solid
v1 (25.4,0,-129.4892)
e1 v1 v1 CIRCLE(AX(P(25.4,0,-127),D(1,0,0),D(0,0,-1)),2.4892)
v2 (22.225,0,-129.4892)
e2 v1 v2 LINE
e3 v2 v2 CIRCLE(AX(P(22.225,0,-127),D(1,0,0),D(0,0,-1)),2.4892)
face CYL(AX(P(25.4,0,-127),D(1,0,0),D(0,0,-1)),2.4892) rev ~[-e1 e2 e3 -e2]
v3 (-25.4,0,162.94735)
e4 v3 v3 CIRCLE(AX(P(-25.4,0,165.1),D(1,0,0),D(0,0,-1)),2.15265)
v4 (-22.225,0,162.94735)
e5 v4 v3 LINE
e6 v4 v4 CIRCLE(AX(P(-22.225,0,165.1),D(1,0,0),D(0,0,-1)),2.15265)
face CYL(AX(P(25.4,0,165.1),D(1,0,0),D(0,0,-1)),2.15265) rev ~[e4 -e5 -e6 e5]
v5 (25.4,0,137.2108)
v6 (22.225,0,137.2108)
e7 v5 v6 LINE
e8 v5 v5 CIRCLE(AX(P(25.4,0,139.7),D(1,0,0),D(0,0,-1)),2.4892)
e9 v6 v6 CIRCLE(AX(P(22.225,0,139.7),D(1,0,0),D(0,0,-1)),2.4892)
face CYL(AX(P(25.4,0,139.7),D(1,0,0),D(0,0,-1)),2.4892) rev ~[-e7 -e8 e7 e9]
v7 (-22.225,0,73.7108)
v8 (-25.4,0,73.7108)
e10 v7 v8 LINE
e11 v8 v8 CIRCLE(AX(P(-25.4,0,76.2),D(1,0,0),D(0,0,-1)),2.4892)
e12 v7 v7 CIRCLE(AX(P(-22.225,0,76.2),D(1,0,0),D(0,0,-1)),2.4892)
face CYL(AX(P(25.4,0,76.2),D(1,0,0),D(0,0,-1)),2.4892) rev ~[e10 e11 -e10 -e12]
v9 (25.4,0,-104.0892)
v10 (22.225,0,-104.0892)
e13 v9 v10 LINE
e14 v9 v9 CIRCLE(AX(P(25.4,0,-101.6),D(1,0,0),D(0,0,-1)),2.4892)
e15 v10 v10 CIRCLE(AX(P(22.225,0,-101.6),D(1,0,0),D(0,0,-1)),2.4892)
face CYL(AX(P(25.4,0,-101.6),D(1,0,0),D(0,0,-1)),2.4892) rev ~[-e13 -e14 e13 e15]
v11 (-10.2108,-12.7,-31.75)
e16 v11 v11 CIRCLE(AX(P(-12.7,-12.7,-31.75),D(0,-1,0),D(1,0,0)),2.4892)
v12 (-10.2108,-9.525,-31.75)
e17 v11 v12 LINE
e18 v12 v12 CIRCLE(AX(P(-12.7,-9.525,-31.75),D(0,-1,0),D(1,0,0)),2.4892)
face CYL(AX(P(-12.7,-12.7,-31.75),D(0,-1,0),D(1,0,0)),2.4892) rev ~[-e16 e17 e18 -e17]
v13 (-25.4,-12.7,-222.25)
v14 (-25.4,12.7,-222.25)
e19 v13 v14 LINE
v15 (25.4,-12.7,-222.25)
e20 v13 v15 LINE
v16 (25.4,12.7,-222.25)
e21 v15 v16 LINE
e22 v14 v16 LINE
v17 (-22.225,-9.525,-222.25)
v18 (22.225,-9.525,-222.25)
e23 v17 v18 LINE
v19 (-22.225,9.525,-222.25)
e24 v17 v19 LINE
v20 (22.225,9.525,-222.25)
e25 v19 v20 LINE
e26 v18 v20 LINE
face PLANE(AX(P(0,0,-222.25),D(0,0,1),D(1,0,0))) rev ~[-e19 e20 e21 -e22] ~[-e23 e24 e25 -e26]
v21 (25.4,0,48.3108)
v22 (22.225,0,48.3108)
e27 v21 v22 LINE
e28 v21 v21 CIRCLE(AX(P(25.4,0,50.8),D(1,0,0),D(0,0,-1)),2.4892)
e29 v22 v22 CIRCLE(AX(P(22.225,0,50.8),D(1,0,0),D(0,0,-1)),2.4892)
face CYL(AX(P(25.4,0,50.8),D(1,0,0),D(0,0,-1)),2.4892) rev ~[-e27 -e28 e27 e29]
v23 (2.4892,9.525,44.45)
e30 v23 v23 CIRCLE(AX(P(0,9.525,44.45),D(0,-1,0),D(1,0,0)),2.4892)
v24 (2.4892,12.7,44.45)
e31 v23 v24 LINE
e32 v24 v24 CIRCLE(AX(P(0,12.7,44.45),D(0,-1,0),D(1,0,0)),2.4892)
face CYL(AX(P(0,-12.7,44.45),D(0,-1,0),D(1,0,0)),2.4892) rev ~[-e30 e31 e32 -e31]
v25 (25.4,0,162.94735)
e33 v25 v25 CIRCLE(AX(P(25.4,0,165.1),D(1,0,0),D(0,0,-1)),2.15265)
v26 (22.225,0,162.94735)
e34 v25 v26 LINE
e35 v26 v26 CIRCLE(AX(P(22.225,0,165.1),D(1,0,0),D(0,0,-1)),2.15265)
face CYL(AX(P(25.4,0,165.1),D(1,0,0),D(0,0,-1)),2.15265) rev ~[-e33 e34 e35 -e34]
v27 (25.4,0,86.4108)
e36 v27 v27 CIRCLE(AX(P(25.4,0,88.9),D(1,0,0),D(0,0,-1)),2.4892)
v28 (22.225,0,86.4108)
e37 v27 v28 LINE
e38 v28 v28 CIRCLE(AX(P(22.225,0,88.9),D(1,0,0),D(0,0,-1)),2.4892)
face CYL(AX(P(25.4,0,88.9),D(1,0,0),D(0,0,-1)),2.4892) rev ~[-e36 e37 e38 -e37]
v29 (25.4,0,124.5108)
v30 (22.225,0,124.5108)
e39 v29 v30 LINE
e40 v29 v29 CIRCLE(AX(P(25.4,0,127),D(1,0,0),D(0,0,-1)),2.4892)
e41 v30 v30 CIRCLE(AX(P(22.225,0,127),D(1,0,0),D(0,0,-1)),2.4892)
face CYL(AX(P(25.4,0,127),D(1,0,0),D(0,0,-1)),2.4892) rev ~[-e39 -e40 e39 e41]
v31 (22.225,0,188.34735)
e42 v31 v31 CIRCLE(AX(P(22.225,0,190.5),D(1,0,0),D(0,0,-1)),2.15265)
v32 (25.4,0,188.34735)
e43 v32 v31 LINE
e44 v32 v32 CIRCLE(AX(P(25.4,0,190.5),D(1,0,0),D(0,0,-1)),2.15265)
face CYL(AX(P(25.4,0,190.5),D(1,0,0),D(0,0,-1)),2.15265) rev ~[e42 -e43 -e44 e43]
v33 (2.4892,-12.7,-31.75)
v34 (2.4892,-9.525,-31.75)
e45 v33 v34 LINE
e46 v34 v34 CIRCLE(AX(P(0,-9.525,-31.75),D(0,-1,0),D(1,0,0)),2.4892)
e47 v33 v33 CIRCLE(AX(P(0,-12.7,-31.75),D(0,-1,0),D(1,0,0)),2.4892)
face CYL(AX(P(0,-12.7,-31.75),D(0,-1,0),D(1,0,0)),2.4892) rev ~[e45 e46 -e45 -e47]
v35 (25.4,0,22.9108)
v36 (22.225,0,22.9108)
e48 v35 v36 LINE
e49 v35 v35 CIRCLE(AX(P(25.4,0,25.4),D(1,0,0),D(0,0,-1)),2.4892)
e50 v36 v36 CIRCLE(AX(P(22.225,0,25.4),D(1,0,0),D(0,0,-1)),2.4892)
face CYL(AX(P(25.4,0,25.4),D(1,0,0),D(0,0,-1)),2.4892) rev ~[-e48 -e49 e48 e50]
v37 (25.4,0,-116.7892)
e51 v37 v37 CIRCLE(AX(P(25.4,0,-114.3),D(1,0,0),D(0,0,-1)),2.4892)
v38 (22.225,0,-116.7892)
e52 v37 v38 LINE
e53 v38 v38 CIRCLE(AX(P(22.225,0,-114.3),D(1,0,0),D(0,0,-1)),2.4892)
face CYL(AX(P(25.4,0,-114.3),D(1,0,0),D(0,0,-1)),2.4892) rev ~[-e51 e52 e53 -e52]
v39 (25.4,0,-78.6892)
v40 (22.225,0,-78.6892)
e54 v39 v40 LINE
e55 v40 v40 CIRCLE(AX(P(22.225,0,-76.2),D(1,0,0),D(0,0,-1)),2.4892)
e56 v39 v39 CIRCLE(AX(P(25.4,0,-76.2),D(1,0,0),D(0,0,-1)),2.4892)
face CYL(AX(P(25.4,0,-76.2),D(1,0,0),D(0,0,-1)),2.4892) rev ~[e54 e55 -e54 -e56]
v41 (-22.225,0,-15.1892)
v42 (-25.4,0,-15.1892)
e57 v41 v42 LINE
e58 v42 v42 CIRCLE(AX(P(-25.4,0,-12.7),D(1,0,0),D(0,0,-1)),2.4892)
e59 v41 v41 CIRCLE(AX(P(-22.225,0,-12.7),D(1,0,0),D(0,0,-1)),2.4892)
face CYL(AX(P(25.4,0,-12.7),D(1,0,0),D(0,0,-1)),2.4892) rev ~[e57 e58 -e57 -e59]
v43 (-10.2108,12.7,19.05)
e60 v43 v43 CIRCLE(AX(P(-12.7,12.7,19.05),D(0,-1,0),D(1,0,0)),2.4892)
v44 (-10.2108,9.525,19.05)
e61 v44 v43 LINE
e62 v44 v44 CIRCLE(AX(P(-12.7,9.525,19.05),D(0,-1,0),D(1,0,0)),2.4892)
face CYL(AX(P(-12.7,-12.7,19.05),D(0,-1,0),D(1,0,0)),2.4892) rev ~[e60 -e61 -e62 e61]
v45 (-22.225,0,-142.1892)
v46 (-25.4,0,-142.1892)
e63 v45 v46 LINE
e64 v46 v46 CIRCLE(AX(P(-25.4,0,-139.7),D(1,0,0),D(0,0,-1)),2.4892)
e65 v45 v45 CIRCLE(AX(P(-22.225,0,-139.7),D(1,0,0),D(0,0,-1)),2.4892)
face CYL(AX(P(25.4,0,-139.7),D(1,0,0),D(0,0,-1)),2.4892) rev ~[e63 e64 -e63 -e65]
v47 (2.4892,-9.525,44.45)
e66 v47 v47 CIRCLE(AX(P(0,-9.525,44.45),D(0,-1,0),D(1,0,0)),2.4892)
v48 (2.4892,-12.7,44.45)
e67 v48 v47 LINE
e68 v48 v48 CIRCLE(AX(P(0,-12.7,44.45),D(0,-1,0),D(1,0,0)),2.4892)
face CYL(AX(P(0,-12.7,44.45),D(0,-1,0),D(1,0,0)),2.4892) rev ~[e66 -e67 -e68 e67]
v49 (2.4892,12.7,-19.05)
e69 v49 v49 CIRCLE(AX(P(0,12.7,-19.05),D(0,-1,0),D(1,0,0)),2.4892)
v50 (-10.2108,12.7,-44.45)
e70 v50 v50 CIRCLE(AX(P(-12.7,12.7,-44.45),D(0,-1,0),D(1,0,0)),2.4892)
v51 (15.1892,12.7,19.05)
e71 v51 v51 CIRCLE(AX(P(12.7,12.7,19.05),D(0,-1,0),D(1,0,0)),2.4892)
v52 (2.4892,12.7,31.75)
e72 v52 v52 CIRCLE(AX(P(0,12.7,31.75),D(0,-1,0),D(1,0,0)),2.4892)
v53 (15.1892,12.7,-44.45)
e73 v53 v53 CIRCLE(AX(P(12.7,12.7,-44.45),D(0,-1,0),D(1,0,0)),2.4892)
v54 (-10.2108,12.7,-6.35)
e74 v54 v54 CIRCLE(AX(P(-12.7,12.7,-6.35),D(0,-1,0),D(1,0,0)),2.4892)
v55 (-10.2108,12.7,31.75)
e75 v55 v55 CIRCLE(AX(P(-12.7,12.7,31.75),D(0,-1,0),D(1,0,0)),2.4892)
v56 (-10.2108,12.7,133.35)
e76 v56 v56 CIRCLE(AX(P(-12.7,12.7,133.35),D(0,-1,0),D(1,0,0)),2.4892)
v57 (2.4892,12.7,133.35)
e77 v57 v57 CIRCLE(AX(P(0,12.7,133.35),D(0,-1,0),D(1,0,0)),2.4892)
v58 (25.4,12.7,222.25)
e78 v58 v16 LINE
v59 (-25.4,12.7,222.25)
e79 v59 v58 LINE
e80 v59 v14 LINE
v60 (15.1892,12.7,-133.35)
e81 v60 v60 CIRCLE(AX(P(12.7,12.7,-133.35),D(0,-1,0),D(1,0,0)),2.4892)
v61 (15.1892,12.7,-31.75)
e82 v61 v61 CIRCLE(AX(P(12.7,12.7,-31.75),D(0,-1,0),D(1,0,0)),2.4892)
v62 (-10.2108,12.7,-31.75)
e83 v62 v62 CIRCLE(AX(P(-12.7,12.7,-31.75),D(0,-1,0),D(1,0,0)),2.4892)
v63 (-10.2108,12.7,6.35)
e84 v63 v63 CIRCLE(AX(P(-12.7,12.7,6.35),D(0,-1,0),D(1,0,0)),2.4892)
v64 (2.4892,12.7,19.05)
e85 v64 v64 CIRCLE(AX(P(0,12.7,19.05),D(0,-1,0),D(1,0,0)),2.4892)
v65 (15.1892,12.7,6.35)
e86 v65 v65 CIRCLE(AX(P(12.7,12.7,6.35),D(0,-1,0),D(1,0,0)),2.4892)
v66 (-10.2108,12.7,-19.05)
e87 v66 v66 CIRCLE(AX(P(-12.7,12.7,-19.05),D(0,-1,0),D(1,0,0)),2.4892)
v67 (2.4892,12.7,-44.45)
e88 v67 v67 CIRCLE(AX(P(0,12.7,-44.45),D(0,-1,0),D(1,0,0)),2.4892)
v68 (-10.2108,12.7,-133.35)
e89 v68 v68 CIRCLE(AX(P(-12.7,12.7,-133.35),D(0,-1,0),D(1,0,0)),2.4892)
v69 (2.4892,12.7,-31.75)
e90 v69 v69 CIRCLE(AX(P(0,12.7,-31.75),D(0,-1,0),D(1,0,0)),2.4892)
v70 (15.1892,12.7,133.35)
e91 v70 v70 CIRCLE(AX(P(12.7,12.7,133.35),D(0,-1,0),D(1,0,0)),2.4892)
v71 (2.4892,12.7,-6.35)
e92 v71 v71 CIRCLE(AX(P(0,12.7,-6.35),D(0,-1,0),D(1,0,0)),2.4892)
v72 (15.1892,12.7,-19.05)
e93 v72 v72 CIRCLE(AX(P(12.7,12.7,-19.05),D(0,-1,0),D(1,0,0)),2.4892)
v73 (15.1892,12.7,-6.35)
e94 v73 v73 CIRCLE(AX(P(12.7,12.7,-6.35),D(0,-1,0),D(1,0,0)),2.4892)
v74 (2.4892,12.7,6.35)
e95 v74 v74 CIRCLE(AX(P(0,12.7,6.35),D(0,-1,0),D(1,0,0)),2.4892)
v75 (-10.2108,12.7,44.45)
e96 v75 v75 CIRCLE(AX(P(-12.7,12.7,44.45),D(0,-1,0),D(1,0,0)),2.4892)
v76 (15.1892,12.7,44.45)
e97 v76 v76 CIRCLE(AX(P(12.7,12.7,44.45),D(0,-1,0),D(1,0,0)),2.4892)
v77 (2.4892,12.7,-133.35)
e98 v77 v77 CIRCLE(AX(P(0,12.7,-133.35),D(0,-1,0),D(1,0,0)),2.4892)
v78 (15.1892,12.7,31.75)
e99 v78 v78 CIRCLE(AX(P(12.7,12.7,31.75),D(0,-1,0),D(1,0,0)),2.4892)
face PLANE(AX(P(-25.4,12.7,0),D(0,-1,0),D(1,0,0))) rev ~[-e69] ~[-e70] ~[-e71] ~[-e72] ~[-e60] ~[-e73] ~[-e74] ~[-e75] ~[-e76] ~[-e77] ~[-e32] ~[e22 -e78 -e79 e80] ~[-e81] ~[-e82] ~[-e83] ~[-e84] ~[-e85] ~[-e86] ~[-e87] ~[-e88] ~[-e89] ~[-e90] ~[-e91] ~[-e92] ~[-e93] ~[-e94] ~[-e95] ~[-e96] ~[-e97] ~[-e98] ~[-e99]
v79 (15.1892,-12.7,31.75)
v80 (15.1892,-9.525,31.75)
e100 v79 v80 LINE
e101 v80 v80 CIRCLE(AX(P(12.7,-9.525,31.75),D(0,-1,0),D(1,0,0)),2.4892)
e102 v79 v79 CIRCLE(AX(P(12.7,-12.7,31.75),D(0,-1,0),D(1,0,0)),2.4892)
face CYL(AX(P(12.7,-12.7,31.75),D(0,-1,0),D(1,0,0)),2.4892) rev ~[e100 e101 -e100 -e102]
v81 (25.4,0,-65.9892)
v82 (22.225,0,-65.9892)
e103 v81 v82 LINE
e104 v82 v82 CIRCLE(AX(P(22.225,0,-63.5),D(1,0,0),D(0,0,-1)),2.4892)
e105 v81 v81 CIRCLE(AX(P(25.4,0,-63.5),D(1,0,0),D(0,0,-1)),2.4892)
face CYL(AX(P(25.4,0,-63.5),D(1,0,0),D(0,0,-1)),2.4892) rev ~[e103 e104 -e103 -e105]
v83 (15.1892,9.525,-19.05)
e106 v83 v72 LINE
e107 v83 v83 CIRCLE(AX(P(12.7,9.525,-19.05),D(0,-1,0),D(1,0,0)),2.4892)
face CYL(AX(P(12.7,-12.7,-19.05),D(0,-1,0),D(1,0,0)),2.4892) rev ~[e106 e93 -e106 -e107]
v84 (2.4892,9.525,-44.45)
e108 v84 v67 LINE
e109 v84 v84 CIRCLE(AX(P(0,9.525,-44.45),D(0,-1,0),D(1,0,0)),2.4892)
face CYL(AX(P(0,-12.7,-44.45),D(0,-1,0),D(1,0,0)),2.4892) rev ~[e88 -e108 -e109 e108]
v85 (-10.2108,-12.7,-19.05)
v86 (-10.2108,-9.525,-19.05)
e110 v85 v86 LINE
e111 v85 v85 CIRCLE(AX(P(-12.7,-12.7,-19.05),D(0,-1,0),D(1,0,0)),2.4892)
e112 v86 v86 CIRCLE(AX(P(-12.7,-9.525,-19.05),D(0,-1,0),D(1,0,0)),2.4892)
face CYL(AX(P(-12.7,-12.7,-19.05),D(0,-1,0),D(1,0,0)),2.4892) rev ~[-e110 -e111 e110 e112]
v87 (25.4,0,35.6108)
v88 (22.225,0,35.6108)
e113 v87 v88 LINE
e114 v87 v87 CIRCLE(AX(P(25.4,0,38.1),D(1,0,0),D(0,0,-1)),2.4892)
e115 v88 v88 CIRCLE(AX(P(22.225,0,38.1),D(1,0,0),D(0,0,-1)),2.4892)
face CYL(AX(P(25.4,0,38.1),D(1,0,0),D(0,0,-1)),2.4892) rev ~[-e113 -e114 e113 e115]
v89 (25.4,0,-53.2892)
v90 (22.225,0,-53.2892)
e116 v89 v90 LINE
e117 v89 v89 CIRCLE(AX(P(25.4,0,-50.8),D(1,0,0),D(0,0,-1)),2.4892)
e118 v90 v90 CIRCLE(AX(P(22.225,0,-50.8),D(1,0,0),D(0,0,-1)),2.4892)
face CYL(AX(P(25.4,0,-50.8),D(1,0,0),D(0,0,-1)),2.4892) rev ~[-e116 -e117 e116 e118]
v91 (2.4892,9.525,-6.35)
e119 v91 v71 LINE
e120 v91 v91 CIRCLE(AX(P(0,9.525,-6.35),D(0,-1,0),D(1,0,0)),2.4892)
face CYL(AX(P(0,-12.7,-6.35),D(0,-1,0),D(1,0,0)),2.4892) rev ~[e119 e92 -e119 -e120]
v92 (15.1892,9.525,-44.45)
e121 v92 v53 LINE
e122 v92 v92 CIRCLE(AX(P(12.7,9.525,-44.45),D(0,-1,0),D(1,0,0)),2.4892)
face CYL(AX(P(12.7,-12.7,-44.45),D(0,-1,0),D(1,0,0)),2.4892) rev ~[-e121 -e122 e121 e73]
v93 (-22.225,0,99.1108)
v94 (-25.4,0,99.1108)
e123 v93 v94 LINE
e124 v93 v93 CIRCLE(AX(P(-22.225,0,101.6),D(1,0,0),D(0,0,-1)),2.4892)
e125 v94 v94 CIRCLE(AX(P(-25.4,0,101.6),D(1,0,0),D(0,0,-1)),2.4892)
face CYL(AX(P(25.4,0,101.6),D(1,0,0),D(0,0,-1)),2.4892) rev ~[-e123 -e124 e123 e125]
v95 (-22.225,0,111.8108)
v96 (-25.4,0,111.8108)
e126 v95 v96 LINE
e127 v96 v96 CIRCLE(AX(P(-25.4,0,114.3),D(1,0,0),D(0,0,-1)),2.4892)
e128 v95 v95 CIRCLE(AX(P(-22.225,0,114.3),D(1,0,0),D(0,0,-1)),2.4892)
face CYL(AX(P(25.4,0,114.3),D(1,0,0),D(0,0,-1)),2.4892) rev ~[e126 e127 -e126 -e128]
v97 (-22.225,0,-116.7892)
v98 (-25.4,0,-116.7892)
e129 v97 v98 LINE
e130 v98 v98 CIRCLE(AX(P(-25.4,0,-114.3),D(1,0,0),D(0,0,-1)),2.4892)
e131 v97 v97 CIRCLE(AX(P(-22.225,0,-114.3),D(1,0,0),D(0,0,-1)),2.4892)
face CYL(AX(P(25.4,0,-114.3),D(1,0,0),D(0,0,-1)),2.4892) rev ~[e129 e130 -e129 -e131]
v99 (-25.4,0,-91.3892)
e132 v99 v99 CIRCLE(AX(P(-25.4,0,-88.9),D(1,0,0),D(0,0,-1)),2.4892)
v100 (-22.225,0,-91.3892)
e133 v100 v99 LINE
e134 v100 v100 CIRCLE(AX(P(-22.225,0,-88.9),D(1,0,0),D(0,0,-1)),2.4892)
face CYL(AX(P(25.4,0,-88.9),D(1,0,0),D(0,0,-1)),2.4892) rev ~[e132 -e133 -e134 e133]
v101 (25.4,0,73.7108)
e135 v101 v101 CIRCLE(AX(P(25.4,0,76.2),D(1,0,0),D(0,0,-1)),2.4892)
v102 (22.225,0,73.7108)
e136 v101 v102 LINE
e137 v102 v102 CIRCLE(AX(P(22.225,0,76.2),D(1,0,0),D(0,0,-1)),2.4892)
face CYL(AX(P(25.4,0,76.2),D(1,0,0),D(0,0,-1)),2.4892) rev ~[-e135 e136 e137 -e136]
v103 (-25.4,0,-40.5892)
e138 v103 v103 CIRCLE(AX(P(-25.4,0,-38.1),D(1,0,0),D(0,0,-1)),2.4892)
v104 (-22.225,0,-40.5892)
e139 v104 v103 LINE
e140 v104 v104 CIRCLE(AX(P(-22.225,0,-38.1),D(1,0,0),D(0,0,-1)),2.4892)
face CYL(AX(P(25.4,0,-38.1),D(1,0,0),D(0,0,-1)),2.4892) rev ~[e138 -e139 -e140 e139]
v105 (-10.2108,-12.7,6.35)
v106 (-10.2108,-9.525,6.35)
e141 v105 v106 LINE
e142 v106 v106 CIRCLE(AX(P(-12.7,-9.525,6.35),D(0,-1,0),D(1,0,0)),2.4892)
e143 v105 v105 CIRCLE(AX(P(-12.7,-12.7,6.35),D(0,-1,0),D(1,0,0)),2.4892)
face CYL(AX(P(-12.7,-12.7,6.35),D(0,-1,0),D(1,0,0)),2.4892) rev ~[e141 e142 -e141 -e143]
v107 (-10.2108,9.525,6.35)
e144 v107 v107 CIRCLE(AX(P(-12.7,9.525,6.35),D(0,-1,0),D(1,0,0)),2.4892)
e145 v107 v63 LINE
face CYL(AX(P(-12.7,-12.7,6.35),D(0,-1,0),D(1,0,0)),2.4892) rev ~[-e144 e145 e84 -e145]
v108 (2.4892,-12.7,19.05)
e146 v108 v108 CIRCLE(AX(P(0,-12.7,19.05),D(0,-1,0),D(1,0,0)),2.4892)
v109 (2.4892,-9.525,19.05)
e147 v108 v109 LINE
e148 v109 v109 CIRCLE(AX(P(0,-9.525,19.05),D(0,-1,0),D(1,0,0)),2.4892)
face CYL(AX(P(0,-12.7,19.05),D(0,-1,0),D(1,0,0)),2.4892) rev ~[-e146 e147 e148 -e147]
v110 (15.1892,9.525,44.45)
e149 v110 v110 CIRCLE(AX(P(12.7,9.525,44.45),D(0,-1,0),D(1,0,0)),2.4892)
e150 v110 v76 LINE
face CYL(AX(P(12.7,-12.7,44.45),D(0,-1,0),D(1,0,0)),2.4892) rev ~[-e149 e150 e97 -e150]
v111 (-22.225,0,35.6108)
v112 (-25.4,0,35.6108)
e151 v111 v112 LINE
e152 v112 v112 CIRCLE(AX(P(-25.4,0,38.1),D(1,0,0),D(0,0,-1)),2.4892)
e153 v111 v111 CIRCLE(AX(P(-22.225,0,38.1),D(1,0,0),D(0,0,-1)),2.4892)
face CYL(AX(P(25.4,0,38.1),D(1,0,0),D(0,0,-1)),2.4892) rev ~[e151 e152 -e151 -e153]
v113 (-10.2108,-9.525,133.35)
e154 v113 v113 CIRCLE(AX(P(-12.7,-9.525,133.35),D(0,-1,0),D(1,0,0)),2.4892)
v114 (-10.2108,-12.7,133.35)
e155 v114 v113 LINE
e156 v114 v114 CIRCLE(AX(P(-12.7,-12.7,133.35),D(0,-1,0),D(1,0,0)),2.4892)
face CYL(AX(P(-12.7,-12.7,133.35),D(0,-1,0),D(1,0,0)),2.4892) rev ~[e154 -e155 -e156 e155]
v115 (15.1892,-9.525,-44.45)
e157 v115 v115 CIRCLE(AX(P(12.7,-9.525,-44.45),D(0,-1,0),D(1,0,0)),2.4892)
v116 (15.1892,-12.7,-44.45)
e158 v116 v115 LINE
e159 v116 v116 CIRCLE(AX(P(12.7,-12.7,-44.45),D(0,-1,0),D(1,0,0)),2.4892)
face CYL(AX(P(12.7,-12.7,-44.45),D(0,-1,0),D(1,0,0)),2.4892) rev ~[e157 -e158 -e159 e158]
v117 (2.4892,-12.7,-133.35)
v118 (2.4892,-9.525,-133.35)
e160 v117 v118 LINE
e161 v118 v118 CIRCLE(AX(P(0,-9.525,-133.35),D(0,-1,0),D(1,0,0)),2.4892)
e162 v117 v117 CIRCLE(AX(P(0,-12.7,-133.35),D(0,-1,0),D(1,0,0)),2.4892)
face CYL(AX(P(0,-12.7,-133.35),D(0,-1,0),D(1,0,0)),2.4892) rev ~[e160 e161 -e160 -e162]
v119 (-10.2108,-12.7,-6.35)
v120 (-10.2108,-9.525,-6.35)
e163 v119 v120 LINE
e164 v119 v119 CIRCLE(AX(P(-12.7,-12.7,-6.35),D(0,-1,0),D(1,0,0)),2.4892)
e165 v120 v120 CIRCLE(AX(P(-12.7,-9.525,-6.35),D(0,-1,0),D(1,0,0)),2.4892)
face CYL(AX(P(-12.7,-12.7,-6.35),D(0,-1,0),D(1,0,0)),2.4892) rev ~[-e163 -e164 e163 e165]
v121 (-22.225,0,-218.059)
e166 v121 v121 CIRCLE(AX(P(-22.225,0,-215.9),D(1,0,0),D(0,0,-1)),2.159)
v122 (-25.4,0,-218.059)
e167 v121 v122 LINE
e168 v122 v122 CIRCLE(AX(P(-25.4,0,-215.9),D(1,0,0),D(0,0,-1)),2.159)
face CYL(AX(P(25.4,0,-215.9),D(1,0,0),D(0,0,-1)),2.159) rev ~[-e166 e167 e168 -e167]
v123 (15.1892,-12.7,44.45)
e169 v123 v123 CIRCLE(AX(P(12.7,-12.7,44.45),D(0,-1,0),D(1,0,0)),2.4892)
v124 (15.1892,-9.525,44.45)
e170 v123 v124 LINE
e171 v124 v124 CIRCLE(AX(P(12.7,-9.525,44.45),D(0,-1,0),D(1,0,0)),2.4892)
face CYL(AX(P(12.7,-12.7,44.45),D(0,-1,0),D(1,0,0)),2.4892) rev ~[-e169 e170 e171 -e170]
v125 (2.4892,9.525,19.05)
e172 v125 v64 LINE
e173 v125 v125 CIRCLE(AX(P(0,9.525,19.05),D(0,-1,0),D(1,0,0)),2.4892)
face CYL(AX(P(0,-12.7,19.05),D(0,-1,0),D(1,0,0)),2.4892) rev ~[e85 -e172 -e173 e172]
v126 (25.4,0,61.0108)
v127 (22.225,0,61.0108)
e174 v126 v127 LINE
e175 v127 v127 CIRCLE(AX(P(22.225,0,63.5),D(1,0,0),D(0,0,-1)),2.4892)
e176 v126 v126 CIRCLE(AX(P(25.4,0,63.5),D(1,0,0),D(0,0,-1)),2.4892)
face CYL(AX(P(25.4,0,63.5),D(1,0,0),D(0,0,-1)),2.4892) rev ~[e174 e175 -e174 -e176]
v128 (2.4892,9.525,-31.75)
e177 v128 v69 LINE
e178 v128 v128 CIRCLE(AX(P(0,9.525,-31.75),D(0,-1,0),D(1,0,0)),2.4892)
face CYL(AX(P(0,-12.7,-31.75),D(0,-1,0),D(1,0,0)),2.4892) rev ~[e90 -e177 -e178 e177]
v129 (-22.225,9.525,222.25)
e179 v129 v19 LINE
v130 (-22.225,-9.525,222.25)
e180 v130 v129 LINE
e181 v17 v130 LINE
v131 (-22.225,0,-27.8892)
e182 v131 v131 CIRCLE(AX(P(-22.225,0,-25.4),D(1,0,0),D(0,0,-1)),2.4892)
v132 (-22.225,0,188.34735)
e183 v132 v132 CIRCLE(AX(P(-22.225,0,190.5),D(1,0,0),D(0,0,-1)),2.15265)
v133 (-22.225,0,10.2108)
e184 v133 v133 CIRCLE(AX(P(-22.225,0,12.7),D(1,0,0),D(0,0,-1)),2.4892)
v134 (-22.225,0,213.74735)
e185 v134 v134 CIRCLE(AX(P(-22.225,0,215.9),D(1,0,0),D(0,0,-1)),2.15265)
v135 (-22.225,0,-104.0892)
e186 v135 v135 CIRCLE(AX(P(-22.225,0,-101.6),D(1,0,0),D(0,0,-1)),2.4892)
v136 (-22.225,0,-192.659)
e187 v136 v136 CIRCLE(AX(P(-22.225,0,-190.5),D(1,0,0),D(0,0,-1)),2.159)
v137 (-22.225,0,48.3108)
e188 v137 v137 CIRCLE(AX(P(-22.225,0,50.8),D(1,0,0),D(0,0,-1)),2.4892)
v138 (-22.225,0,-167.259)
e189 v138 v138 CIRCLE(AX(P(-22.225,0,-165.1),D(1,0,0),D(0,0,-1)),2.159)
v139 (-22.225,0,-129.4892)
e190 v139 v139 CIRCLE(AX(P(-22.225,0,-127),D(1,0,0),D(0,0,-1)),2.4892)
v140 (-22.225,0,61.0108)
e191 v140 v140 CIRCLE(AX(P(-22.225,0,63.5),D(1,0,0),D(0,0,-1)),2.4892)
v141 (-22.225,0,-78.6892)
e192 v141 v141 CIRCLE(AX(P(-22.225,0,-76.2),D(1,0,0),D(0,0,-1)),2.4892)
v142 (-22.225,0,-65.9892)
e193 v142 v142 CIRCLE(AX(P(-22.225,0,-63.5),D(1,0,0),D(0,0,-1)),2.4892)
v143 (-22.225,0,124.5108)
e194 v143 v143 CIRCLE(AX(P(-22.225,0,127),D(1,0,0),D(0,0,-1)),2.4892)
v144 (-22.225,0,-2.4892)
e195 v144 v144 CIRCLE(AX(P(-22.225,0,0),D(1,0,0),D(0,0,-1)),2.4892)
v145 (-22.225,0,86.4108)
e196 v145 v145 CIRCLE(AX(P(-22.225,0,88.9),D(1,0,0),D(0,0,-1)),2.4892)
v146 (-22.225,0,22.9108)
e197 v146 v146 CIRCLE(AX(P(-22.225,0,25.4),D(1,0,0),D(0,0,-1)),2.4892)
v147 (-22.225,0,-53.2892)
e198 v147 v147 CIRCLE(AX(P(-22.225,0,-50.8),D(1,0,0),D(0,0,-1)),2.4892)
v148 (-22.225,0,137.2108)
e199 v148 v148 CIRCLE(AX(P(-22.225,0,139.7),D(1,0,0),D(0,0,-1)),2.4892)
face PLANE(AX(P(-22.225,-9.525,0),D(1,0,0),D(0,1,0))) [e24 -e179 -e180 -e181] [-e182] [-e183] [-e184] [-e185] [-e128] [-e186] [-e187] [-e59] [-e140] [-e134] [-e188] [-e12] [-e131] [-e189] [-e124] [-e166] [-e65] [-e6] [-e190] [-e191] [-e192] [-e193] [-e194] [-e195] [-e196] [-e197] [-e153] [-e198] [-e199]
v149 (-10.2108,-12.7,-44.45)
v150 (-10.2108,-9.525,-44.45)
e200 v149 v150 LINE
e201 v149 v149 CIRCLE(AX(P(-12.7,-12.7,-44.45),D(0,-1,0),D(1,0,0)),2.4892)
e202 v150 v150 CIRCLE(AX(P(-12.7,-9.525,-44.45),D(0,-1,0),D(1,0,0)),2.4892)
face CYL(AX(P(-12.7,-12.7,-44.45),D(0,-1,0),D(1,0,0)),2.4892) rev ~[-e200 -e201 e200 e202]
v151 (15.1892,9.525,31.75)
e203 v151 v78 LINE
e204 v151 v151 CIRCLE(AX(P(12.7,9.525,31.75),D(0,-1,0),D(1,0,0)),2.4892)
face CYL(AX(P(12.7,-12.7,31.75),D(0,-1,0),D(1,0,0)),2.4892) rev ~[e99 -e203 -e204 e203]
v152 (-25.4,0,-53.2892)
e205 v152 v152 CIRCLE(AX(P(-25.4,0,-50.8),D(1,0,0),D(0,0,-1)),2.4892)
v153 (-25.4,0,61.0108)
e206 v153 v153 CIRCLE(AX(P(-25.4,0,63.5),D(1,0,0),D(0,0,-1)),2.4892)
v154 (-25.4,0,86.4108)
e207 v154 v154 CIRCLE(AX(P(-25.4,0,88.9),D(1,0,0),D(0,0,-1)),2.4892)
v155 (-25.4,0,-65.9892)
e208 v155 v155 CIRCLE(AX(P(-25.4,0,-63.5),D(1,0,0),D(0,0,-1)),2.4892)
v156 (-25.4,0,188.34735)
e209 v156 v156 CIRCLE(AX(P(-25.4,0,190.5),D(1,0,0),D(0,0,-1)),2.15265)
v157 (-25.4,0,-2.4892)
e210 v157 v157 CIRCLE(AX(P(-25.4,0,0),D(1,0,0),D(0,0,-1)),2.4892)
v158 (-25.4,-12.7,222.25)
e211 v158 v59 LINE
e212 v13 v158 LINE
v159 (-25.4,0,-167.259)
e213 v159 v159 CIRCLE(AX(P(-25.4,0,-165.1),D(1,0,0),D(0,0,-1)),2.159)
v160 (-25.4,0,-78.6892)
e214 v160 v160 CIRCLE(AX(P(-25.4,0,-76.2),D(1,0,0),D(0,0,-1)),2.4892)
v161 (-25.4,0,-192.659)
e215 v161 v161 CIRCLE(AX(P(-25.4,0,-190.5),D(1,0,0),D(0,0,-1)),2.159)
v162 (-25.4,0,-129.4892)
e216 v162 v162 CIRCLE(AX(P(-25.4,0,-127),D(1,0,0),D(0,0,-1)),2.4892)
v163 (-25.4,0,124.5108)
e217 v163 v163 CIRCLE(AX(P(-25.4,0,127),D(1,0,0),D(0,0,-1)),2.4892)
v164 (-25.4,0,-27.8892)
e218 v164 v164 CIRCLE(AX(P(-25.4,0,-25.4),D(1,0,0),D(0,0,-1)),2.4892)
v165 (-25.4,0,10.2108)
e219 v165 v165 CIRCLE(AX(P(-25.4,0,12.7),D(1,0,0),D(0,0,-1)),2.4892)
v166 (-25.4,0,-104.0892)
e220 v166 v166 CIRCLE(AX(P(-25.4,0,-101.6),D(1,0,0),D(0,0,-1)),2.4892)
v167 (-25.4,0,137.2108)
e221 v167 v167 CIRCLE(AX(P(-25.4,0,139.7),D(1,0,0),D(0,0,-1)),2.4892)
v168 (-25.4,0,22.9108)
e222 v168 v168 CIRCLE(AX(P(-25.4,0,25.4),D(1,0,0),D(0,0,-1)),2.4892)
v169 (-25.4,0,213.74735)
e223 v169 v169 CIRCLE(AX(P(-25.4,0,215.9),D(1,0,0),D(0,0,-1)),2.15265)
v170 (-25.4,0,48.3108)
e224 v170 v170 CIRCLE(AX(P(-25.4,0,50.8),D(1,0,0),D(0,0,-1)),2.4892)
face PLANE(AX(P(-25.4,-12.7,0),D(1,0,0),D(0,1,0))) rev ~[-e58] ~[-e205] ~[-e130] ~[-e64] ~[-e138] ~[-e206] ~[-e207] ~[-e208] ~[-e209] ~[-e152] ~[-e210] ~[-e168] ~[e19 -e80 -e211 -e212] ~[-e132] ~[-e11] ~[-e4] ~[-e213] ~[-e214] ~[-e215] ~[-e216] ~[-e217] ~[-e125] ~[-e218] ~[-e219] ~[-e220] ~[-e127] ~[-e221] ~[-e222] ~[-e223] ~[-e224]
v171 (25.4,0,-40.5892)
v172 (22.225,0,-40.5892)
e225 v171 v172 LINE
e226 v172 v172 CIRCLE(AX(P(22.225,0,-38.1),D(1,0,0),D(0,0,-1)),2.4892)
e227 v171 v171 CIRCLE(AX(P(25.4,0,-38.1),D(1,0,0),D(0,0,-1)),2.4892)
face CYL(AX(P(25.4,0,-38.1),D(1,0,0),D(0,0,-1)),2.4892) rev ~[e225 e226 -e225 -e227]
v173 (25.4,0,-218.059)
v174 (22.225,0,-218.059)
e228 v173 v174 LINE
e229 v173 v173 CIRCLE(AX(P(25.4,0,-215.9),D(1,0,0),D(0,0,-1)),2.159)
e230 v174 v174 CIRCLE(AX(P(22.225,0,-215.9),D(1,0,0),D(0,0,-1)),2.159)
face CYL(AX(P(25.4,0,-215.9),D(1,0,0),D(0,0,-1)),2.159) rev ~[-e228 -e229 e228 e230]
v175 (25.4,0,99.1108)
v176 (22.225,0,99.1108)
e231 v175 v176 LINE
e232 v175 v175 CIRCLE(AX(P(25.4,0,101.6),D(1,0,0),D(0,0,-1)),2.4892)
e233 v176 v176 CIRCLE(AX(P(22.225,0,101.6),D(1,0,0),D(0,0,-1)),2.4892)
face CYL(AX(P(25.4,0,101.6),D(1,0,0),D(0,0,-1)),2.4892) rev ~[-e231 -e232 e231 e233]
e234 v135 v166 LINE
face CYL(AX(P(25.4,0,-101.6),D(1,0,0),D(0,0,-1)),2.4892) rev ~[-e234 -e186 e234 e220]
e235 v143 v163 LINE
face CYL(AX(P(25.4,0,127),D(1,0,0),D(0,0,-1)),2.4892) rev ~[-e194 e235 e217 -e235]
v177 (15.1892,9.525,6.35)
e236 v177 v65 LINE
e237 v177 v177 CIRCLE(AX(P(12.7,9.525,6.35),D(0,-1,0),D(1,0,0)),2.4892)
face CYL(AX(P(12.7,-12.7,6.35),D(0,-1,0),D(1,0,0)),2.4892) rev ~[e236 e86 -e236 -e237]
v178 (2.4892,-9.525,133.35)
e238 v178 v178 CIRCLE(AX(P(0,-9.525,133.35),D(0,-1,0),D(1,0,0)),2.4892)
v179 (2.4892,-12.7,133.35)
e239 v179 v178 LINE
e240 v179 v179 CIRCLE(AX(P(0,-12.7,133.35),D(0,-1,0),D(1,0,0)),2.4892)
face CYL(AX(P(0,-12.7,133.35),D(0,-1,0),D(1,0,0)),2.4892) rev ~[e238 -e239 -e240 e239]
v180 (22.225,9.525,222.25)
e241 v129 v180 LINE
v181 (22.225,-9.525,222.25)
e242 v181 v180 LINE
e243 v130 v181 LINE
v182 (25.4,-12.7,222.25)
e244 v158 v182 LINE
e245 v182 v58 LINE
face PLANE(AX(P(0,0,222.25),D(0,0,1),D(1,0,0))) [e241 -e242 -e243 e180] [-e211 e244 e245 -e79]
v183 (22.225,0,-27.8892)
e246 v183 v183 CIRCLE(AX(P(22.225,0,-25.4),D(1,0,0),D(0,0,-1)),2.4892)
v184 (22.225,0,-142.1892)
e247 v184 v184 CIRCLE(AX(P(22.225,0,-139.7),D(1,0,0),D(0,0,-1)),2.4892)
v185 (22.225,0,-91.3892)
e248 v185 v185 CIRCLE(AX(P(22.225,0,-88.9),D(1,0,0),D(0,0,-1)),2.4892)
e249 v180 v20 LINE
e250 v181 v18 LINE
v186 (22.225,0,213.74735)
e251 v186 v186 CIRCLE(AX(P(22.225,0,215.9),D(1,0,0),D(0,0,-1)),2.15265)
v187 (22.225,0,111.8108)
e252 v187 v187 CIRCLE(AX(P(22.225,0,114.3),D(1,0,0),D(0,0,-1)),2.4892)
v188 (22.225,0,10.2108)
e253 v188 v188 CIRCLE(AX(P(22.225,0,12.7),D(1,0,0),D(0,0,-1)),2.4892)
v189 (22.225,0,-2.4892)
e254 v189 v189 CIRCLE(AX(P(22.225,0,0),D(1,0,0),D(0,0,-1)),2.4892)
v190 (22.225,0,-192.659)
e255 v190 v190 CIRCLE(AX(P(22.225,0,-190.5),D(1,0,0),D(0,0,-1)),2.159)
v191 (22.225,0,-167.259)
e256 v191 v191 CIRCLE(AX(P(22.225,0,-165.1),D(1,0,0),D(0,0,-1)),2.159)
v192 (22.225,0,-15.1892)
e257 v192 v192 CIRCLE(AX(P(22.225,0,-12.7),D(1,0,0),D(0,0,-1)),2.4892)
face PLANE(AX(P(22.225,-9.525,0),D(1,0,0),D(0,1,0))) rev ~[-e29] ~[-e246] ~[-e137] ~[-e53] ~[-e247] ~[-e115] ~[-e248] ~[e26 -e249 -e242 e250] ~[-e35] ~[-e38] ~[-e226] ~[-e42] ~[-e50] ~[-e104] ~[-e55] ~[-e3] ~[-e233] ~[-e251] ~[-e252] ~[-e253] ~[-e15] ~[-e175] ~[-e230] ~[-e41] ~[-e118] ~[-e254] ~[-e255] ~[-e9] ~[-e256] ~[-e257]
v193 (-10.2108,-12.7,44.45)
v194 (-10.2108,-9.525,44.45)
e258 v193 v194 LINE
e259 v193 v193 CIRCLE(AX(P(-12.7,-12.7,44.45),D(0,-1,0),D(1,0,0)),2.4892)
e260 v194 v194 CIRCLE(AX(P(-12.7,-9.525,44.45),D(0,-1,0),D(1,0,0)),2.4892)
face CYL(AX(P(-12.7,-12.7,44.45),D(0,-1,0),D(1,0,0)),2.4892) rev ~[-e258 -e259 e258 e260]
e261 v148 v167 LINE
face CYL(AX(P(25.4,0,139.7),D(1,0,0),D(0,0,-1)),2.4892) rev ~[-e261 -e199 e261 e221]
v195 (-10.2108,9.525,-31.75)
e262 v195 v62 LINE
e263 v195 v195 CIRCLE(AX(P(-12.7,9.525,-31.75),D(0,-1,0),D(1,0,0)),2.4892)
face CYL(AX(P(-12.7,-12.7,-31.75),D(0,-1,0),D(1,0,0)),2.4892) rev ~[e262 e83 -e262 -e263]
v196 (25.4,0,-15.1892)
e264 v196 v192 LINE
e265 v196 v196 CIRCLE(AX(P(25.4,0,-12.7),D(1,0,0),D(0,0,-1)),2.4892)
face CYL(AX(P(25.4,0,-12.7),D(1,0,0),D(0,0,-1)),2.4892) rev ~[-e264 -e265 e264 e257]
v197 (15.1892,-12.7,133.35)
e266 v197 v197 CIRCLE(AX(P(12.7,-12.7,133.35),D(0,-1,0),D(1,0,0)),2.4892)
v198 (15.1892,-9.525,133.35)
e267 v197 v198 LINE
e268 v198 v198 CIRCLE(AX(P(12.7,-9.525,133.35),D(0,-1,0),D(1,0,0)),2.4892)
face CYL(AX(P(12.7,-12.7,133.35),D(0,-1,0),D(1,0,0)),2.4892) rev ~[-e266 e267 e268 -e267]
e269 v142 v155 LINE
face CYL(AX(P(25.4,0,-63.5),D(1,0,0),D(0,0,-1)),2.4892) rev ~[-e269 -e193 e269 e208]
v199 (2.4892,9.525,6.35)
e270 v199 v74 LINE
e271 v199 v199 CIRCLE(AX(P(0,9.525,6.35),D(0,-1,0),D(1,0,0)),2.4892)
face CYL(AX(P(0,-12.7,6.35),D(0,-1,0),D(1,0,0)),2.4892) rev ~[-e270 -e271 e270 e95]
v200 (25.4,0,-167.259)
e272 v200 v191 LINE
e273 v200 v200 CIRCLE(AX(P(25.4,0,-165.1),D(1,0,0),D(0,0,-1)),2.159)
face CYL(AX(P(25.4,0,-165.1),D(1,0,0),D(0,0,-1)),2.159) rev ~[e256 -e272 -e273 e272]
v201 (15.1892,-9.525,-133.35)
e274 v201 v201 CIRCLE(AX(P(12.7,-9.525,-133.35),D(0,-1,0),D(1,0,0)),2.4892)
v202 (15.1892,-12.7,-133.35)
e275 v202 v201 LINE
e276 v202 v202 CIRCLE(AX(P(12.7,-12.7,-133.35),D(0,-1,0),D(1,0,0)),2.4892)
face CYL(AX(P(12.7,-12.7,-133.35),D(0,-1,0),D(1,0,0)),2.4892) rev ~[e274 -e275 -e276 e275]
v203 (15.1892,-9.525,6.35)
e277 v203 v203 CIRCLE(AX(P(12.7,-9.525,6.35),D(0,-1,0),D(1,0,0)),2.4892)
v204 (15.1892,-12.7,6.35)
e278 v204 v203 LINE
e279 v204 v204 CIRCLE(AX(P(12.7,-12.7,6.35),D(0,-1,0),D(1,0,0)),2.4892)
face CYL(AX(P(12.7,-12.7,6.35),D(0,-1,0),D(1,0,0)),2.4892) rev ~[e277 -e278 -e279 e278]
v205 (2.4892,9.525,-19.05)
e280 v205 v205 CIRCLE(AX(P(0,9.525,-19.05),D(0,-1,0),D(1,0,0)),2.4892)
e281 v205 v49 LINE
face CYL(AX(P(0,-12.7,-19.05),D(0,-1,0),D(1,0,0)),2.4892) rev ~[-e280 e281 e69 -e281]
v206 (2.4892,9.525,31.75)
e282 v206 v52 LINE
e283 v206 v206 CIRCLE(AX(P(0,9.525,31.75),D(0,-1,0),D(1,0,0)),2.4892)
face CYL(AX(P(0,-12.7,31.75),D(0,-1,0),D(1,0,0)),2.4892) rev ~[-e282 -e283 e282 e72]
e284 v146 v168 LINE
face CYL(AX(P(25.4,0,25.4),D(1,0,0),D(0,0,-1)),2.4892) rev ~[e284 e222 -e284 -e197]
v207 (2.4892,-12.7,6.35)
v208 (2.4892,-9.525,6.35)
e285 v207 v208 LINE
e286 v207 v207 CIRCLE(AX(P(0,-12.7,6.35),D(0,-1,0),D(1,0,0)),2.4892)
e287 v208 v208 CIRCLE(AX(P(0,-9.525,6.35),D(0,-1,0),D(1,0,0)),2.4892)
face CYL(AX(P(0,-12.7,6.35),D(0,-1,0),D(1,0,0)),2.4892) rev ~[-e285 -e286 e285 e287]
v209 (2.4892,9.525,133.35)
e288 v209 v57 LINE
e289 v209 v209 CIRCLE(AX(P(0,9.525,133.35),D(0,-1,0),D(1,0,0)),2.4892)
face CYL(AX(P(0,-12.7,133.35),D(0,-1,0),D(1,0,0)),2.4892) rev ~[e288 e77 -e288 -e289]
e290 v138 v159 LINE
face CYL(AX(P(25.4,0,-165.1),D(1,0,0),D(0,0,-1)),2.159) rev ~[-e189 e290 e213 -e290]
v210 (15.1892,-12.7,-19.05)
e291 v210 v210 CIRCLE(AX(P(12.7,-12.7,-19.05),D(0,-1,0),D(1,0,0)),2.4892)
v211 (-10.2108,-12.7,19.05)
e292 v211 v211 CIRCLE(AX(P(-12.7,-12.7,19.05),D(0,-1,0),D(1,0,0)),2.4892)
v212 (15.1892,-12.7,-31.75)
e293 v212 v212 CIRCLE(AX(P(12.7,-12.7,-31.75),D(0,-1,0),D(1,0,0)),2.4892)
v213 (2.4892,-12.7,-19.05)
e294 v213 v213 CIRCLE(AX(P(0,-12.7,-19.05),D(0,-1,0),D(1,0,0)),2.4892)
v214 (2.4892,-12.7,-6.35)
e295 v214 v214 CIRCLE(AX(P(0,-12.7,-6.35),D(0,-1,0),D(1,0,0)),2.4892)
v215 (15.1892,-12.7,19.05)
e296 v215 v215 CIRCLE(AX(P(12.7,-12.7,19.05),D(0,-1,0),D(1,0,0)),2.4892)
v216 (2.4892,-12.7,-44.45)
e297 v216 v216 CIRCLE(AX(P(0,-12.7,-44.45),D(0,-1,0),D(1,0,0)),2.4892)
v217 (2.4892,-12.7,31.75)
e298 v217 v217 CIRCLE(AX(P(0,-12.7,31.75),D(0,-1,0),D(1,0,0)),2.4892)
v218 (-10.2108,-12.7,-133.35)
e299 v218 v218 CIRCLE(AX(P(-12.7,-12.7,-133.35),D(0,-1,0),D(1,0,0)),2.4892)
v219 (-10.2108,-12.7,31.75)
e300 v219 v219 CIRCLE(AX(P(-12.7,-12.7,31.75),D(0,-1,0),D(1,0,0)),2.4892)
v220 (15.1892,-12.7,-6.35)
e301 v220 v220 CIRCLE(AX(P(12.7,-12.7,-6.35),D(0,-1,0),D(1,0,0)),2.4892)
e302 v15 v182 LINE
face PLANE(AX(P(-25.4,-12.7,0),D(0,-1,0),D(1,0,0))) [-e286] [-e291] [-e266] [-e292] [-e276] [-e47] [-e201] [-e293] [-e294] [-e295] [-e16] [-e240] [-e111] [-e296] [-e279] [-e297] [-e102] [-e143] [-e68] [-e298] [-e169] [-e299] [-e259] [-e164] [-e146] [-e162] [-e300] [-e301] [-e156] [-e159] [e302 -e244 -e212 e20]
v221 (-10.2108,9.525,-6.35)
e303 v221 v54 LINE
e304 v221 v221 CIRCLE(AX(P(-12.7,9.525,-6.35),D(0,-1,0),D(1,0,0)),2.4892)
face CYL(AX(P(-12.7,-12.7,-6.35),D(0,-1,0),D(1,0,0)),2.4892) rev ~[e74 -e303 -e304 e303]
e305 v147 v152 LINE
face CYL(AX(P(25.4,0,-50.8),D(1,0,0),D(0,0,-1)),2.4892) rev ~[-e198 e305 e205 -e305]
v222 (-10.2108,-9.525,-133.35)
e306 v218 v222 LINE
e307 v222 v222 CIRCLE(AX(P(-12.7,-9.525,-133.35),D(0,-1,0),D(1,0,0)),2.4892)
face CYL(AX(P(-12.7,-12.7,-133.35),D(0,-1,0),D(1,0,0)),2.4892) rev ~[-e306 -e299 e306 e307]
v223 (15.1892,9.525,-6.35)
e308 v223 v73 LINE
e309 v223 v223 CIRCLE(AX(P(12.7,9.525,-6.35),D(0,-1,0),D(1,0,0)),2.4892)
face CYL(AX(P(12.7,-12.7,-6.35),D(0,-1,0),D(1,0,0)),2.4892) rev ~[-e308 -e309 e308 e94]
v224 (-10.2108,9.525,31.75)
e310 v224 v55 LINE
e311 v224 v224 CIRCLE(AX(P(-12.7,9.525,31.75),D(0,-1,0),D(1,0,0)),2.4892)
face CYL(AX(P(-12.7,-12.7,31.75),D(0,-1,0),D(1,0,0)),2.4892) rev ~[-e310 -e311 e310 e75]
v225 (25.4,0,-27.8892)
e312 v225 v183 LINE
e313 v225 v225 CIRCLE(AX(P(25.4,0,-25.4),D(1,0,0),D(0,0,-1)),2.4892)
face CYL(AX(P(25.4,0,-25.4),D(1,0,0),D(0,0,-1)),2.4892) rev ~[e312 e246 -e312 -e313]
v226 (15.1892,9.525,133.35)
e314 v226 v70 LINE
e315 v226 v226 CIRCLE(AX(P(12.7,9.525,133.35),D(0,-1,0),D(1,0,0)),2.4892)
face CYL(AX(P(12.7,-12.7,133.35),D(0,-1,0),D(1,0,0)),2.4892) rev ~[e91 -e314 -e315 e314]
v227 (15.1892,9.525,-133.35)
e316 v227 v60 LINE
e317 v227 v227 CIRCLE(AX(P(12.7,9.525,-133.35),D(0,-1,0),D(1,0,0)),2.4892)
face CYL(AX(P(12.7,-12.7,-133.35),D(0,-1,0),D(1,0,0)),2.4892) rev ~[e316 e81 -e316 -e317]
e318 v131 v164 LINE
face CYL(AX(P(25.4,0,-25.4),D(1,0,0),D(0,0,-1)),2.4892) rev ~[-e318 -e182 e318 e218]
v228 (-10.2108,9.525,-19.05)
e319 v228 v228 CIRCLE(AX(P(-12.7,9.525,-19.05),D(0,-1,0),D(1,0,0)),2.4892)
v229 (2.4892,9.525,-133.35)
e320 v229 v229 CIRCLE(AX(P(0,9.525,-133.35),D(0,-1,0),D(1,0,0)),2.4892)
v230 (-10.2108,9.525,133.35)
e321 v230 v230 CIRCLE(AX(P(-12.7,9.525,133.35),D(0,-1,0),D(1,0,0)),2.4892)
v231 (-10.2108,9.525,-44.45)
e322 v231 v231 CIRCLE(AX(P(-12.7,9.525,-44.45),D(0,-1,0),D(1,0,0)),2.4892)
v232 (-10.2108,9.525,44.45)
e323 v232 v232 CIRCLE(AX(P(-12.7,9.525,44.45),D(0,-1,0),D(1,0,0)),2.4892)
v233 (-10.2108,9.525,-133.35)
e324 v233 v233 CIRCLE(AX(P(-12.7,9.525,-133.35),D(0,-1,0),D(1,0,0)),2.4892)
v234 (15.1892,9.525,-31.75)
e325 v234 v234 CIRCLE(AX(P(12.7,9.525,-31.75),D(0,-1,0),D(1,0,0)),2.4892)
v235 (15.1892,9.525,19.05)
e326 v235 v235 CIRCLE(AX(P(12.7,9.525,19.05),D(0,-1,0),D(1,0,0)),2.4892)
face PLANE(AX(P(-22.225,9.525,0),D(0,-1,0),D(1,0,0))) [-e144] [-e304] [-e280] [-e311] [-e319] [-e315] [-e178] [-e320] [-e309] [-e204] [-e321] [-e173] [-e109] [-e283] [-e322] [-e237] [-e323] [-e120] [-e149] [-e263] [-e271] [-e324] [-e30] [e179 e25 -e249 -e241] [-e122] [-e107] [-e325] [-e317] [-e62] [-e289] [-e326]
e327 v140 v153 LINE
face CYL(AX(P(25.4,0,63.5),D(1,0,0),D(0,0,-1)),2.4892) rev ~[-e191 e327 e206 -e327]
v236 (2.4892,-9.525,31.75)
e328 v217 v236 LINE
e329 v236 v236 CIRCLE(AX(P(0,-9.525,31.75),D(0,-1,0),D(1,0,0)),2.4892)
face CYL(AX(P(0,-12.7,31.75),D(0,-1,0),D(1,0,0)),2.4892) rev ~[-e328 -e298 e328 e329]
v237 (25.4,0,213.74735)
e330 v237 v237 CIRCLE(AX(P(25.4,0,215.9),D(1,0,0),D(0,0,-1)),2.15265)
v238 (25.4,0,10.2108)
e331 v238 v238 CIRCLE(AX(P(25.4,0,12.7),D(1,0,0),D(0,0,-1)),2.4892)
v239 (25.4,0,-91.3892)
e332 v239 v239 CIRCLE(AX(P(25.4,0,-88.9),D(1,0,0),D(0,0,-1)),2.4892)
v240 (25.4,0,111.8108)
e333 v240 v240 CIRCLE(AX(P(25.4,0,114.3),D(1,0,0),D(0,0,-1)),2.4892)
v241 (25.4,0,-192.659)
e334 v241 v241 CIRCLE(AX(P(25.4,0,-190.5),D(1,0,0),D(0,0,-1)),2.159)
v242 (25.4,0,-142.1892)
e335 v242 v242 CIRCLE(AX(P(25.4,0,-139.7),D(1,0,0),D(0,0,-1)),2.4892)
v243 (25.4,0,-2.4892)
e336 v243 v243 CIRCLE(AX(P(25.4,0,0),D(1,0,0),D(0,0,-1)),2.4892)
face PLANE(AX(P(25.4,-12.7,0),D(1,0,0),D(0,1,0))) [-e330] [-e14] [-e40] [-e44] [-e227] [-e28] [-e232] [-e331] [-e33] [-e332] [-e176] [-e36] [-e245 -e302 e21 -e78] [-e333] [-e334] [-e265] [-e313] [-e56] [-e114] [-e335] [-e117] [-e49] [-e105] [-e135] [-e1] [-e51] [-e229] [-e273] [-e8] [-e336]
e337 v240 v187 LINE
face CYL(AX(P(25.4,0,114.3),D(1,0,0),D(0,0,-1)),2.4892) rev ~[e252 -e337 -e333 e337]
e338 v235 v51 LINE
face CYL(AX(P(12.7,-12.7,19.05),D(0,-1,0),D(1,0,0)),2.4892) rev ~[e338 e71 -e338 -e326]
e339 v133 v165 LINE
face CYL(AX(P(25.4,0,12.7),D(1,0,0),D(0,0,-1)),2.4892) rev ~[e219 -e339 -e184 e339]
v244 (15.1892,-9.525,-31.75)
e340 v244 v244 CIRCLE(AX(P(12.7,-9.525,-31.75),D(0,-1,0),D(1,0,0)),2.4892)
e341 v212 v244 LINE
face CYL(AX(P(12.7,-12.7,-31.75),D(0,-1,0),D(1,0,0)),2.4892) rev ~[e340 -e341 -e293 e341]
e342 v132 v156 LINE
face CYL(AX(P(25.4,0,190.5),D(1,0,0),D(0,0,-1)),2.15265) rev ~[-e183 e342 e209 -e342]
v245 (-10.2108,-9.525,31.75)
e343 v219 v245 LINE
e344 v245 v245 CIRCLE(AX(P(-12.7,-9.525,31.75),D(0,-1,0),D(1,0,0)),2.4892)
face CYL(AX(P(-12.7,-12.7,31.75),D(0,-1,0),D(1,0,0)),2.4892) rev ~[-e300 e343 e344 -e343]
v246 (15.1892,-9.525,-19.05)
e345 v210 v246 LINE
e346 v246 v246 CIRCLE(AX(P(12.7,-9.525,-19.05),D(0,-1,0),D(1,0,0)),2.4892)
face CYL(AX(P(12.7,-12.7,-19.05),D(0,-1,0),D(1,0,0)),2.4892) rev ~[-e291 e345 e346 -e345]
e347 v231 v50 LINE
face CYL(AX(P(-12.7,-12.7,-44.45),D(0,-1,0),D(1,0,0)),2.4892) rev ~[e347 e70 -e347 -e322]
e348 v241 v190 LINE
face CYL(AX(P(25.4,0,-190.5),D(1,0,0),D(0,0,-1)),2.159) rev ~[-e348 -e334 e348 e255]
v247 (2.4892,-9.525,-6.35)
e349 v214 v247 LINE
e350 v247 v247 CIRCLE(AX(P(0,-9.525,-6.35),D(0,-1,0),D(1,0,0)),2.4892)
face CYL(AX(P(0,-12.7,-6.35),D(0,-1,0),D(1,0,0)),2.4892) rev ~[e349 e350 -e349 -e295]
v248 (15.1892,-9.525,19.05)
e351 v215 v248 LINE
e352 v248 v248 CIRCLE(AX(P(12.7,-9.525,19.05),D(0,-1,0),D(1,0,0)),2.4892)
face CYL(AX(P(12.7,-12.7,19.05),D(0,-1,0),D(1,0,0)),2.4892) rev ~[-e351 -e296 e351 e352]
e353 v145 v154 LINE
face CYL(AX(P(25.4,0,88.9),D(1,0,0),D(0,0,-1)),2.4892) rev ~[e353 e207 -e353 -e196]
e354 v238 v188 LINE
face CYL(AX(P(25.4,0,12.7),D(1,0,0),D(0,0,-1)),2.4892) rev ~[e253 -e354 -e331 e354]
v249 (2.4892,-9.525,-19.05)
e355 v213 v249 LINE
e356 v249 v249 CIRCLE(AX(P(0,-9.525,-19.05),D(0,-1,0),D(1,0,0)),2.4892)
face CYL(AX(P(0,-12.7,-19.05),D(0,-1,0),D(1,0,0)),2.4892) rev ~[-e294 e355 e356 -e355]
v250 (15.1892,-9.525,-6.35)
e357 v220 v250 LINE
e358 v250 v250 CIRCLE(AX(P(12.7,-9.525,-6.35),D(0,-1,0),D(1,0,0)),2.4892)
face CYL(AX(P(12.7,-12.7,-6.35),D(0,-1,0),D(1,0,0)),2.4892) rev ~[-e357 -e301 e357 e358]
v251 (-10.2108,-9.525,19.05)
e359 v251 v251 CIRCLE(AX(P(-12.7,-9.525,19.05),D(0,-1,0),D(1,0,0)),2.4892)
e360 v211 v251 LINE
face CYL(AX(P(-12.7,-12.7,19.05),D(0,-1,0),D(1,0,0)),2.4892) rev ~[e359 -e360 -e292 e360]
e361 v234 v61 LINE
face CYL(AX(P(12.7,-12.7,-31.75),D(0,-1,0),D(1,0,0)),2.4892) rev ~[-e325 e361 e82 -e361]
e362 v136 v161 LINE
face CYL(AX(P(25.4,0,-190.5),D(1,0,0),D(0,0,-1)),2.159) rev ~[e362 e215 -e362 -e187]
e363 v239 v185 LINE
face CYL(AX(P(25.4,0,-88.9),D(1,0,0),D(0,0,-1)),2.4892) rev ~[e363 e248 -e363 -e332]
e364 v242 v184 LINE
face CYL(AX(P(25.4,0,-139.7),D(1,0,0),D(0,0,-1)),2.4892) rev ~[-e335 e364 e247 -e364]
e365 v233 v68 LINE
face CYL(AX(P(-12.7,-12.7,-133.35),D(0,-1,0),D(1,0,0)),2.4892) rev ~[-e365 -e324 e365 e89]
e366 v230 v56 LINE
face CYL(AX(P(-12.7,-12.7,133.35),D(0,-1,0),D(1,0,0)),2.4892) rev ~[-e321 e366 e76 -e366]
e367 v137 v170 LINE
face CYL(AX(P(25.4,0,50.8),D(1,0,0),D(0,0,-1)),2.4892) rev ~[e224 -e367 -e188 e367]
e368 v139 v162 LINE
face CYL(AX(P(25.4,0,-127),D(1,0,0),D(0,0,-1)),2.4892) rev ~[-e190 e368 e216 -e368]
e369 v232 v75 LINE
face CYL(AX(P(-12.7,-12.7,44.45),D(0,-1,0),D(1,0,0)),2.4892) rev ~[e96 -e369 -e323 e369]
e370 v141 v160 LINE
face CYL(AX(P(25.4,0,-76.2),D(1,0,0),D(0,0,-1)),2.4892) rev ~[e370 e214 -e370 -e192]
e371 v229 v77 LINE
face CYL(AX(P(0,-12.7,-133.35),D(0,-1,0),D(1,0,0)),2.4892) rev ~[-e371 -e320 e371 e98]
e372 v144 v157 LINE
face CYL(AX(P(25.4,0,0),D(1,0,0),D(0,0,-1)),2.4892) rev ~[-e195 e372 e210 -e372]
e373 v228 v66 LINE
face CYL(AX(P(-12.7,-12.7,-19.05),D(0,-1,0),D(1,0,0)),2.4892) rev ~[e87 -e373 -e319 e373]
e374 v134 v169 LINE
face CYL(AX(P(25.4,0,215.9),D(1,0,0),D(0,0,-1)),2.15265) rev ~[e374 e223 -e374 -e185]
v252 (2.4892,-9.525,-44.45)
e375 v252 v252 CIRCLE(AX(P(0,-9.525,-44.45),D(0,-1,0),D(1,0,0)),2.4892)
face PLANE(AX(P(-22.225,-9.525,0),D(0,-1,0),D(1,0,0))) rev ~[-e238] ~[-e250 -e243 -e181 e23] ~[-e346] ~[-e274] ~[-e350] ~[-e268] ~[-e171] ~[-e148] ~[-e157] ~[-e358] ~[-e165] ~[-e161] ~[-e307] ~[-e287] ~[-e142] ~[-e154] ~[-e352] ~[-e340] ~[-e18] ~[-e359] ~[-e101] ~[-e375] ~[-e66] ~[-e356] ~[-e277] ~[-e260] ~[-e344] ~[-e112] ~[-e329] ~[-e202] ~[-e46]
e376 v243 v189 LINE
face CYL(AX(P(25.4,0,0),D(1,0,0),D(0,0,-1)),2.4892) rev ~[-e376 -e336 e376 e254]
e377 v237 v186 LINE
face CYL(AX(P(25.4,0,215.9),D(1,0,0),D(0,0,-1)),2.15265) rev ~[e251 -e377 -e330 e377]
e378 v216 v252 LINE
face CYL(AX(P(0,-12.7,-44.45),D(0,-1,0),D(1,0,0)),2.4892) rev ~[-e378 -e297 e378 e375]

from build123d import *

# Parameters (mm, degrees)
SKETCH1_W           = 50.8
SKETCH1_H           = 25.4
SKETCH1_W_2         = 44.45
SKETCH1_H_2         = 19.05
BOSS_EXTRUDE1_DEPTH = 222.25
SKETCH3_R           = 2.15265
SKETCH3_R_2         = 2.159
CUT_EXTRUDE2_DEPTH  = 51.8
SKETCH4_R           = 2.4892
CUT_EXTRUDE3_DEPTH  = 51.8
SKETCH5_R           = 2.4892
CUT_EXTRUDE4_DEPTH  = 26.4


with BuildPart() as part:
    # Sketch1 → Boss-Extrude1 (new body, symmetric)
    with BuildSketch(Plane.XY):
        Rectangle(SKETCH1_W, SKETCH1_H)
        Rectangle(SKETCH1_W_2, SKETCH1_H_2, mode=Mode.SUBTRACT)
    extrude(amount=BOSS_EXTRUDE1_DEPTH, both=True)

    # Sketch3 → Cut-Extrude2 (cut, through all)
    with BuildSketch(Plane(origin=(25.4, 0, 0), x_dir=(0, 0, -1), z_dir=(1, 0, 0))):
        with Locations((-215.9, 0)):
            Circle(SKETCH3_R)
        with Locations((-190.5, 0)):
            Circle(SKETCH3_R)
        with Locations((-165.1, 0)):
            Circle(SKETCH3_R)
        with Locations((215.9, 0)):
            Circle(SKETCH3_R_2)
        with Locations((190.5, 0)):
            Circle(SKETCH3_R_2)
        with Locations((165.1, 0)):
            Circle(SKETCH3_R_2)
    extrude(amount=-CUT_EXTRUDE2_DEPTH, mode=Mode.SUBTRACT)

    # Sketch4 → Cut-Extrude3 (cut, through all)
    with BuildSketch(Plane(origin=(25.4, 0, 0), x_dir=(0, 0, -1), z_dir=(1, 0, 0))):
        with Locations((-139.7, 0)):
            Circle(SKETCH4_R)
        with Locations((-127, 0)):
            Circle(SKETCH4_R)
        with Locations((-114.3, 0)):
            Circle(SKETCH4_R)
        with Locations((-101.6, 0)):
            Circle(SKETCH4_R)
        with Locations((-88.9, 0)):
            Circle(SKETCH4_R)
        with Locations((-76.2, 0)):
            Circle(SKETCH4_R)
        with Locations((-63.5, 0)):
            Circle(SKETCH4_R)
        with Locations((-50.8, 0)):
            Circle(SKETCH4_R)
        with Locations((-38.1, 0)):
            Circle(SKETCH4_R)
        with Locations((-25.4, 0)):
            Circle(SKETCH4_R)
        with Locations((-12.7, 0)):
            Circle(SKETCH4_R)
        Circle(SKETCH4_R)
        with Locations((12.7, 0)):
            Circle(SKETCH4_R)
        with Locations((25.4, 0)):
            Circle(SKETCH4_R)
        with Locations((38.1, 0)):
            Circle(SKETCH4_R)
        with Locations((50.8, 0)):
            Circle(SKETCH4_R)
        with Locations((63.5, 0)):
            Circle(SKETCH4_R)
        with Locations((76.2, 0)):
            Circle(SKETCH4_R)
        with Locations((88.9, 0)):
            Circle(SKETCH4_R)
        with Locations((101.6, 0)):
            Circle(SKETCH4_R)
        with Locations((114.3, 0)):
            Circle(SKETCH4_R)
        with Locations((127, 0)):
            Circle(SKETCH4_R)
        with Locations((139.7, 0)):
            Circle(SKETCH4_R)
    extrude(amount=-CUT_EXTRUDE3_DEPTH, mode=Mode.SUBTRACT)

    # Sketch5 → Cut-Extrude4 (cut, through all)
    with BuildSketch(Plane.XZ.offset(12.7)):
        with Locations((-12.7, 133.35)):
            Circle(SKETCH5_R)
        with Locations((0, 133.35)):
            Circle(SKETCH5_R)
        with Locations((12.7, 133.35)):
            Circle(SKETCH5_R)
        with Locations((12.7, -133.35)):
            Circle(SKETCH5_R)
        with Locations((0, -133.35)):
            Circle(SKETCH5_R)
        with Locations((-12.7, -133.35)):
            Circle(SKETCH5_R)
        with Locations((-12.7, 44.45)):
            Circle(SKETCH5_R)
        with Locations((0, 44.45)):
            Circle(SKETCH5_R)
        with Locations((12.7, 44.45)):
            Circle(SKETCH5_R)
        with Locations((12.7, 31.75)):
            Circle(SKETCH5_R)
        with Locations((0, 31.75)):
            Circle(SKETCH5_R)
        with Locations((-12.7, 31.75)):
            Circle(SKETCH5_R)
        with Locations((12.7, 19.05)):
            Circle(SKETCH5_R)
        with Locations((0, 19.05)):
            Circle(SKETCH5_R)
        with Locations((-12.7, 19.05)):
            Circle(SKETCH5_R)
        with Locations((12.7, 6.35)):
            Circle(SKETCH5_R)
        with Locations((0, 6.35)):
            Circle(SKETCH5_R)
        with Locations((-12.7, 6.35)):
            Circle(SKETCH5_R)
        with Locations((12.7, -6.35)):
            Circle(SKETCH5_R)
        with Locations((0, -6.35)):
            Circle(SKETCH5_R)
        with Locations((-12.7, -6.35)):
            Circle(SKETCH5_R)
        with Locations((12.7, -19.05)):
            Circle(SKETCH5_R)
        with Locations((0, -19.05)):
            Circle(SKETCH5_R)
        with Locations((-12.7, -19.05)):
            Circle(SKETCH5_R)
        with Locations((12.7, -31.75)):
            Circle(SKETCH5_R)
        with Locations((0, -31.75)):
            Circle(SKETCH5_R)
        with Locations((-12.7, -31.75)):
            Circle(SKETCH5_R)
        with Locations((12.7, -44.45)):
            Circle(SKETCH5_R)
        with Locations((0, -44.45)):
            Circle(SKETCH5_R)
        with Locations((-12.7, -44.45)):
            Circle(SKETCH5_R)
    extrude(amount=-CUT_EXTRUDE4_DEPTH, mode=Mode.SUBTRACT)


solid = part.part
